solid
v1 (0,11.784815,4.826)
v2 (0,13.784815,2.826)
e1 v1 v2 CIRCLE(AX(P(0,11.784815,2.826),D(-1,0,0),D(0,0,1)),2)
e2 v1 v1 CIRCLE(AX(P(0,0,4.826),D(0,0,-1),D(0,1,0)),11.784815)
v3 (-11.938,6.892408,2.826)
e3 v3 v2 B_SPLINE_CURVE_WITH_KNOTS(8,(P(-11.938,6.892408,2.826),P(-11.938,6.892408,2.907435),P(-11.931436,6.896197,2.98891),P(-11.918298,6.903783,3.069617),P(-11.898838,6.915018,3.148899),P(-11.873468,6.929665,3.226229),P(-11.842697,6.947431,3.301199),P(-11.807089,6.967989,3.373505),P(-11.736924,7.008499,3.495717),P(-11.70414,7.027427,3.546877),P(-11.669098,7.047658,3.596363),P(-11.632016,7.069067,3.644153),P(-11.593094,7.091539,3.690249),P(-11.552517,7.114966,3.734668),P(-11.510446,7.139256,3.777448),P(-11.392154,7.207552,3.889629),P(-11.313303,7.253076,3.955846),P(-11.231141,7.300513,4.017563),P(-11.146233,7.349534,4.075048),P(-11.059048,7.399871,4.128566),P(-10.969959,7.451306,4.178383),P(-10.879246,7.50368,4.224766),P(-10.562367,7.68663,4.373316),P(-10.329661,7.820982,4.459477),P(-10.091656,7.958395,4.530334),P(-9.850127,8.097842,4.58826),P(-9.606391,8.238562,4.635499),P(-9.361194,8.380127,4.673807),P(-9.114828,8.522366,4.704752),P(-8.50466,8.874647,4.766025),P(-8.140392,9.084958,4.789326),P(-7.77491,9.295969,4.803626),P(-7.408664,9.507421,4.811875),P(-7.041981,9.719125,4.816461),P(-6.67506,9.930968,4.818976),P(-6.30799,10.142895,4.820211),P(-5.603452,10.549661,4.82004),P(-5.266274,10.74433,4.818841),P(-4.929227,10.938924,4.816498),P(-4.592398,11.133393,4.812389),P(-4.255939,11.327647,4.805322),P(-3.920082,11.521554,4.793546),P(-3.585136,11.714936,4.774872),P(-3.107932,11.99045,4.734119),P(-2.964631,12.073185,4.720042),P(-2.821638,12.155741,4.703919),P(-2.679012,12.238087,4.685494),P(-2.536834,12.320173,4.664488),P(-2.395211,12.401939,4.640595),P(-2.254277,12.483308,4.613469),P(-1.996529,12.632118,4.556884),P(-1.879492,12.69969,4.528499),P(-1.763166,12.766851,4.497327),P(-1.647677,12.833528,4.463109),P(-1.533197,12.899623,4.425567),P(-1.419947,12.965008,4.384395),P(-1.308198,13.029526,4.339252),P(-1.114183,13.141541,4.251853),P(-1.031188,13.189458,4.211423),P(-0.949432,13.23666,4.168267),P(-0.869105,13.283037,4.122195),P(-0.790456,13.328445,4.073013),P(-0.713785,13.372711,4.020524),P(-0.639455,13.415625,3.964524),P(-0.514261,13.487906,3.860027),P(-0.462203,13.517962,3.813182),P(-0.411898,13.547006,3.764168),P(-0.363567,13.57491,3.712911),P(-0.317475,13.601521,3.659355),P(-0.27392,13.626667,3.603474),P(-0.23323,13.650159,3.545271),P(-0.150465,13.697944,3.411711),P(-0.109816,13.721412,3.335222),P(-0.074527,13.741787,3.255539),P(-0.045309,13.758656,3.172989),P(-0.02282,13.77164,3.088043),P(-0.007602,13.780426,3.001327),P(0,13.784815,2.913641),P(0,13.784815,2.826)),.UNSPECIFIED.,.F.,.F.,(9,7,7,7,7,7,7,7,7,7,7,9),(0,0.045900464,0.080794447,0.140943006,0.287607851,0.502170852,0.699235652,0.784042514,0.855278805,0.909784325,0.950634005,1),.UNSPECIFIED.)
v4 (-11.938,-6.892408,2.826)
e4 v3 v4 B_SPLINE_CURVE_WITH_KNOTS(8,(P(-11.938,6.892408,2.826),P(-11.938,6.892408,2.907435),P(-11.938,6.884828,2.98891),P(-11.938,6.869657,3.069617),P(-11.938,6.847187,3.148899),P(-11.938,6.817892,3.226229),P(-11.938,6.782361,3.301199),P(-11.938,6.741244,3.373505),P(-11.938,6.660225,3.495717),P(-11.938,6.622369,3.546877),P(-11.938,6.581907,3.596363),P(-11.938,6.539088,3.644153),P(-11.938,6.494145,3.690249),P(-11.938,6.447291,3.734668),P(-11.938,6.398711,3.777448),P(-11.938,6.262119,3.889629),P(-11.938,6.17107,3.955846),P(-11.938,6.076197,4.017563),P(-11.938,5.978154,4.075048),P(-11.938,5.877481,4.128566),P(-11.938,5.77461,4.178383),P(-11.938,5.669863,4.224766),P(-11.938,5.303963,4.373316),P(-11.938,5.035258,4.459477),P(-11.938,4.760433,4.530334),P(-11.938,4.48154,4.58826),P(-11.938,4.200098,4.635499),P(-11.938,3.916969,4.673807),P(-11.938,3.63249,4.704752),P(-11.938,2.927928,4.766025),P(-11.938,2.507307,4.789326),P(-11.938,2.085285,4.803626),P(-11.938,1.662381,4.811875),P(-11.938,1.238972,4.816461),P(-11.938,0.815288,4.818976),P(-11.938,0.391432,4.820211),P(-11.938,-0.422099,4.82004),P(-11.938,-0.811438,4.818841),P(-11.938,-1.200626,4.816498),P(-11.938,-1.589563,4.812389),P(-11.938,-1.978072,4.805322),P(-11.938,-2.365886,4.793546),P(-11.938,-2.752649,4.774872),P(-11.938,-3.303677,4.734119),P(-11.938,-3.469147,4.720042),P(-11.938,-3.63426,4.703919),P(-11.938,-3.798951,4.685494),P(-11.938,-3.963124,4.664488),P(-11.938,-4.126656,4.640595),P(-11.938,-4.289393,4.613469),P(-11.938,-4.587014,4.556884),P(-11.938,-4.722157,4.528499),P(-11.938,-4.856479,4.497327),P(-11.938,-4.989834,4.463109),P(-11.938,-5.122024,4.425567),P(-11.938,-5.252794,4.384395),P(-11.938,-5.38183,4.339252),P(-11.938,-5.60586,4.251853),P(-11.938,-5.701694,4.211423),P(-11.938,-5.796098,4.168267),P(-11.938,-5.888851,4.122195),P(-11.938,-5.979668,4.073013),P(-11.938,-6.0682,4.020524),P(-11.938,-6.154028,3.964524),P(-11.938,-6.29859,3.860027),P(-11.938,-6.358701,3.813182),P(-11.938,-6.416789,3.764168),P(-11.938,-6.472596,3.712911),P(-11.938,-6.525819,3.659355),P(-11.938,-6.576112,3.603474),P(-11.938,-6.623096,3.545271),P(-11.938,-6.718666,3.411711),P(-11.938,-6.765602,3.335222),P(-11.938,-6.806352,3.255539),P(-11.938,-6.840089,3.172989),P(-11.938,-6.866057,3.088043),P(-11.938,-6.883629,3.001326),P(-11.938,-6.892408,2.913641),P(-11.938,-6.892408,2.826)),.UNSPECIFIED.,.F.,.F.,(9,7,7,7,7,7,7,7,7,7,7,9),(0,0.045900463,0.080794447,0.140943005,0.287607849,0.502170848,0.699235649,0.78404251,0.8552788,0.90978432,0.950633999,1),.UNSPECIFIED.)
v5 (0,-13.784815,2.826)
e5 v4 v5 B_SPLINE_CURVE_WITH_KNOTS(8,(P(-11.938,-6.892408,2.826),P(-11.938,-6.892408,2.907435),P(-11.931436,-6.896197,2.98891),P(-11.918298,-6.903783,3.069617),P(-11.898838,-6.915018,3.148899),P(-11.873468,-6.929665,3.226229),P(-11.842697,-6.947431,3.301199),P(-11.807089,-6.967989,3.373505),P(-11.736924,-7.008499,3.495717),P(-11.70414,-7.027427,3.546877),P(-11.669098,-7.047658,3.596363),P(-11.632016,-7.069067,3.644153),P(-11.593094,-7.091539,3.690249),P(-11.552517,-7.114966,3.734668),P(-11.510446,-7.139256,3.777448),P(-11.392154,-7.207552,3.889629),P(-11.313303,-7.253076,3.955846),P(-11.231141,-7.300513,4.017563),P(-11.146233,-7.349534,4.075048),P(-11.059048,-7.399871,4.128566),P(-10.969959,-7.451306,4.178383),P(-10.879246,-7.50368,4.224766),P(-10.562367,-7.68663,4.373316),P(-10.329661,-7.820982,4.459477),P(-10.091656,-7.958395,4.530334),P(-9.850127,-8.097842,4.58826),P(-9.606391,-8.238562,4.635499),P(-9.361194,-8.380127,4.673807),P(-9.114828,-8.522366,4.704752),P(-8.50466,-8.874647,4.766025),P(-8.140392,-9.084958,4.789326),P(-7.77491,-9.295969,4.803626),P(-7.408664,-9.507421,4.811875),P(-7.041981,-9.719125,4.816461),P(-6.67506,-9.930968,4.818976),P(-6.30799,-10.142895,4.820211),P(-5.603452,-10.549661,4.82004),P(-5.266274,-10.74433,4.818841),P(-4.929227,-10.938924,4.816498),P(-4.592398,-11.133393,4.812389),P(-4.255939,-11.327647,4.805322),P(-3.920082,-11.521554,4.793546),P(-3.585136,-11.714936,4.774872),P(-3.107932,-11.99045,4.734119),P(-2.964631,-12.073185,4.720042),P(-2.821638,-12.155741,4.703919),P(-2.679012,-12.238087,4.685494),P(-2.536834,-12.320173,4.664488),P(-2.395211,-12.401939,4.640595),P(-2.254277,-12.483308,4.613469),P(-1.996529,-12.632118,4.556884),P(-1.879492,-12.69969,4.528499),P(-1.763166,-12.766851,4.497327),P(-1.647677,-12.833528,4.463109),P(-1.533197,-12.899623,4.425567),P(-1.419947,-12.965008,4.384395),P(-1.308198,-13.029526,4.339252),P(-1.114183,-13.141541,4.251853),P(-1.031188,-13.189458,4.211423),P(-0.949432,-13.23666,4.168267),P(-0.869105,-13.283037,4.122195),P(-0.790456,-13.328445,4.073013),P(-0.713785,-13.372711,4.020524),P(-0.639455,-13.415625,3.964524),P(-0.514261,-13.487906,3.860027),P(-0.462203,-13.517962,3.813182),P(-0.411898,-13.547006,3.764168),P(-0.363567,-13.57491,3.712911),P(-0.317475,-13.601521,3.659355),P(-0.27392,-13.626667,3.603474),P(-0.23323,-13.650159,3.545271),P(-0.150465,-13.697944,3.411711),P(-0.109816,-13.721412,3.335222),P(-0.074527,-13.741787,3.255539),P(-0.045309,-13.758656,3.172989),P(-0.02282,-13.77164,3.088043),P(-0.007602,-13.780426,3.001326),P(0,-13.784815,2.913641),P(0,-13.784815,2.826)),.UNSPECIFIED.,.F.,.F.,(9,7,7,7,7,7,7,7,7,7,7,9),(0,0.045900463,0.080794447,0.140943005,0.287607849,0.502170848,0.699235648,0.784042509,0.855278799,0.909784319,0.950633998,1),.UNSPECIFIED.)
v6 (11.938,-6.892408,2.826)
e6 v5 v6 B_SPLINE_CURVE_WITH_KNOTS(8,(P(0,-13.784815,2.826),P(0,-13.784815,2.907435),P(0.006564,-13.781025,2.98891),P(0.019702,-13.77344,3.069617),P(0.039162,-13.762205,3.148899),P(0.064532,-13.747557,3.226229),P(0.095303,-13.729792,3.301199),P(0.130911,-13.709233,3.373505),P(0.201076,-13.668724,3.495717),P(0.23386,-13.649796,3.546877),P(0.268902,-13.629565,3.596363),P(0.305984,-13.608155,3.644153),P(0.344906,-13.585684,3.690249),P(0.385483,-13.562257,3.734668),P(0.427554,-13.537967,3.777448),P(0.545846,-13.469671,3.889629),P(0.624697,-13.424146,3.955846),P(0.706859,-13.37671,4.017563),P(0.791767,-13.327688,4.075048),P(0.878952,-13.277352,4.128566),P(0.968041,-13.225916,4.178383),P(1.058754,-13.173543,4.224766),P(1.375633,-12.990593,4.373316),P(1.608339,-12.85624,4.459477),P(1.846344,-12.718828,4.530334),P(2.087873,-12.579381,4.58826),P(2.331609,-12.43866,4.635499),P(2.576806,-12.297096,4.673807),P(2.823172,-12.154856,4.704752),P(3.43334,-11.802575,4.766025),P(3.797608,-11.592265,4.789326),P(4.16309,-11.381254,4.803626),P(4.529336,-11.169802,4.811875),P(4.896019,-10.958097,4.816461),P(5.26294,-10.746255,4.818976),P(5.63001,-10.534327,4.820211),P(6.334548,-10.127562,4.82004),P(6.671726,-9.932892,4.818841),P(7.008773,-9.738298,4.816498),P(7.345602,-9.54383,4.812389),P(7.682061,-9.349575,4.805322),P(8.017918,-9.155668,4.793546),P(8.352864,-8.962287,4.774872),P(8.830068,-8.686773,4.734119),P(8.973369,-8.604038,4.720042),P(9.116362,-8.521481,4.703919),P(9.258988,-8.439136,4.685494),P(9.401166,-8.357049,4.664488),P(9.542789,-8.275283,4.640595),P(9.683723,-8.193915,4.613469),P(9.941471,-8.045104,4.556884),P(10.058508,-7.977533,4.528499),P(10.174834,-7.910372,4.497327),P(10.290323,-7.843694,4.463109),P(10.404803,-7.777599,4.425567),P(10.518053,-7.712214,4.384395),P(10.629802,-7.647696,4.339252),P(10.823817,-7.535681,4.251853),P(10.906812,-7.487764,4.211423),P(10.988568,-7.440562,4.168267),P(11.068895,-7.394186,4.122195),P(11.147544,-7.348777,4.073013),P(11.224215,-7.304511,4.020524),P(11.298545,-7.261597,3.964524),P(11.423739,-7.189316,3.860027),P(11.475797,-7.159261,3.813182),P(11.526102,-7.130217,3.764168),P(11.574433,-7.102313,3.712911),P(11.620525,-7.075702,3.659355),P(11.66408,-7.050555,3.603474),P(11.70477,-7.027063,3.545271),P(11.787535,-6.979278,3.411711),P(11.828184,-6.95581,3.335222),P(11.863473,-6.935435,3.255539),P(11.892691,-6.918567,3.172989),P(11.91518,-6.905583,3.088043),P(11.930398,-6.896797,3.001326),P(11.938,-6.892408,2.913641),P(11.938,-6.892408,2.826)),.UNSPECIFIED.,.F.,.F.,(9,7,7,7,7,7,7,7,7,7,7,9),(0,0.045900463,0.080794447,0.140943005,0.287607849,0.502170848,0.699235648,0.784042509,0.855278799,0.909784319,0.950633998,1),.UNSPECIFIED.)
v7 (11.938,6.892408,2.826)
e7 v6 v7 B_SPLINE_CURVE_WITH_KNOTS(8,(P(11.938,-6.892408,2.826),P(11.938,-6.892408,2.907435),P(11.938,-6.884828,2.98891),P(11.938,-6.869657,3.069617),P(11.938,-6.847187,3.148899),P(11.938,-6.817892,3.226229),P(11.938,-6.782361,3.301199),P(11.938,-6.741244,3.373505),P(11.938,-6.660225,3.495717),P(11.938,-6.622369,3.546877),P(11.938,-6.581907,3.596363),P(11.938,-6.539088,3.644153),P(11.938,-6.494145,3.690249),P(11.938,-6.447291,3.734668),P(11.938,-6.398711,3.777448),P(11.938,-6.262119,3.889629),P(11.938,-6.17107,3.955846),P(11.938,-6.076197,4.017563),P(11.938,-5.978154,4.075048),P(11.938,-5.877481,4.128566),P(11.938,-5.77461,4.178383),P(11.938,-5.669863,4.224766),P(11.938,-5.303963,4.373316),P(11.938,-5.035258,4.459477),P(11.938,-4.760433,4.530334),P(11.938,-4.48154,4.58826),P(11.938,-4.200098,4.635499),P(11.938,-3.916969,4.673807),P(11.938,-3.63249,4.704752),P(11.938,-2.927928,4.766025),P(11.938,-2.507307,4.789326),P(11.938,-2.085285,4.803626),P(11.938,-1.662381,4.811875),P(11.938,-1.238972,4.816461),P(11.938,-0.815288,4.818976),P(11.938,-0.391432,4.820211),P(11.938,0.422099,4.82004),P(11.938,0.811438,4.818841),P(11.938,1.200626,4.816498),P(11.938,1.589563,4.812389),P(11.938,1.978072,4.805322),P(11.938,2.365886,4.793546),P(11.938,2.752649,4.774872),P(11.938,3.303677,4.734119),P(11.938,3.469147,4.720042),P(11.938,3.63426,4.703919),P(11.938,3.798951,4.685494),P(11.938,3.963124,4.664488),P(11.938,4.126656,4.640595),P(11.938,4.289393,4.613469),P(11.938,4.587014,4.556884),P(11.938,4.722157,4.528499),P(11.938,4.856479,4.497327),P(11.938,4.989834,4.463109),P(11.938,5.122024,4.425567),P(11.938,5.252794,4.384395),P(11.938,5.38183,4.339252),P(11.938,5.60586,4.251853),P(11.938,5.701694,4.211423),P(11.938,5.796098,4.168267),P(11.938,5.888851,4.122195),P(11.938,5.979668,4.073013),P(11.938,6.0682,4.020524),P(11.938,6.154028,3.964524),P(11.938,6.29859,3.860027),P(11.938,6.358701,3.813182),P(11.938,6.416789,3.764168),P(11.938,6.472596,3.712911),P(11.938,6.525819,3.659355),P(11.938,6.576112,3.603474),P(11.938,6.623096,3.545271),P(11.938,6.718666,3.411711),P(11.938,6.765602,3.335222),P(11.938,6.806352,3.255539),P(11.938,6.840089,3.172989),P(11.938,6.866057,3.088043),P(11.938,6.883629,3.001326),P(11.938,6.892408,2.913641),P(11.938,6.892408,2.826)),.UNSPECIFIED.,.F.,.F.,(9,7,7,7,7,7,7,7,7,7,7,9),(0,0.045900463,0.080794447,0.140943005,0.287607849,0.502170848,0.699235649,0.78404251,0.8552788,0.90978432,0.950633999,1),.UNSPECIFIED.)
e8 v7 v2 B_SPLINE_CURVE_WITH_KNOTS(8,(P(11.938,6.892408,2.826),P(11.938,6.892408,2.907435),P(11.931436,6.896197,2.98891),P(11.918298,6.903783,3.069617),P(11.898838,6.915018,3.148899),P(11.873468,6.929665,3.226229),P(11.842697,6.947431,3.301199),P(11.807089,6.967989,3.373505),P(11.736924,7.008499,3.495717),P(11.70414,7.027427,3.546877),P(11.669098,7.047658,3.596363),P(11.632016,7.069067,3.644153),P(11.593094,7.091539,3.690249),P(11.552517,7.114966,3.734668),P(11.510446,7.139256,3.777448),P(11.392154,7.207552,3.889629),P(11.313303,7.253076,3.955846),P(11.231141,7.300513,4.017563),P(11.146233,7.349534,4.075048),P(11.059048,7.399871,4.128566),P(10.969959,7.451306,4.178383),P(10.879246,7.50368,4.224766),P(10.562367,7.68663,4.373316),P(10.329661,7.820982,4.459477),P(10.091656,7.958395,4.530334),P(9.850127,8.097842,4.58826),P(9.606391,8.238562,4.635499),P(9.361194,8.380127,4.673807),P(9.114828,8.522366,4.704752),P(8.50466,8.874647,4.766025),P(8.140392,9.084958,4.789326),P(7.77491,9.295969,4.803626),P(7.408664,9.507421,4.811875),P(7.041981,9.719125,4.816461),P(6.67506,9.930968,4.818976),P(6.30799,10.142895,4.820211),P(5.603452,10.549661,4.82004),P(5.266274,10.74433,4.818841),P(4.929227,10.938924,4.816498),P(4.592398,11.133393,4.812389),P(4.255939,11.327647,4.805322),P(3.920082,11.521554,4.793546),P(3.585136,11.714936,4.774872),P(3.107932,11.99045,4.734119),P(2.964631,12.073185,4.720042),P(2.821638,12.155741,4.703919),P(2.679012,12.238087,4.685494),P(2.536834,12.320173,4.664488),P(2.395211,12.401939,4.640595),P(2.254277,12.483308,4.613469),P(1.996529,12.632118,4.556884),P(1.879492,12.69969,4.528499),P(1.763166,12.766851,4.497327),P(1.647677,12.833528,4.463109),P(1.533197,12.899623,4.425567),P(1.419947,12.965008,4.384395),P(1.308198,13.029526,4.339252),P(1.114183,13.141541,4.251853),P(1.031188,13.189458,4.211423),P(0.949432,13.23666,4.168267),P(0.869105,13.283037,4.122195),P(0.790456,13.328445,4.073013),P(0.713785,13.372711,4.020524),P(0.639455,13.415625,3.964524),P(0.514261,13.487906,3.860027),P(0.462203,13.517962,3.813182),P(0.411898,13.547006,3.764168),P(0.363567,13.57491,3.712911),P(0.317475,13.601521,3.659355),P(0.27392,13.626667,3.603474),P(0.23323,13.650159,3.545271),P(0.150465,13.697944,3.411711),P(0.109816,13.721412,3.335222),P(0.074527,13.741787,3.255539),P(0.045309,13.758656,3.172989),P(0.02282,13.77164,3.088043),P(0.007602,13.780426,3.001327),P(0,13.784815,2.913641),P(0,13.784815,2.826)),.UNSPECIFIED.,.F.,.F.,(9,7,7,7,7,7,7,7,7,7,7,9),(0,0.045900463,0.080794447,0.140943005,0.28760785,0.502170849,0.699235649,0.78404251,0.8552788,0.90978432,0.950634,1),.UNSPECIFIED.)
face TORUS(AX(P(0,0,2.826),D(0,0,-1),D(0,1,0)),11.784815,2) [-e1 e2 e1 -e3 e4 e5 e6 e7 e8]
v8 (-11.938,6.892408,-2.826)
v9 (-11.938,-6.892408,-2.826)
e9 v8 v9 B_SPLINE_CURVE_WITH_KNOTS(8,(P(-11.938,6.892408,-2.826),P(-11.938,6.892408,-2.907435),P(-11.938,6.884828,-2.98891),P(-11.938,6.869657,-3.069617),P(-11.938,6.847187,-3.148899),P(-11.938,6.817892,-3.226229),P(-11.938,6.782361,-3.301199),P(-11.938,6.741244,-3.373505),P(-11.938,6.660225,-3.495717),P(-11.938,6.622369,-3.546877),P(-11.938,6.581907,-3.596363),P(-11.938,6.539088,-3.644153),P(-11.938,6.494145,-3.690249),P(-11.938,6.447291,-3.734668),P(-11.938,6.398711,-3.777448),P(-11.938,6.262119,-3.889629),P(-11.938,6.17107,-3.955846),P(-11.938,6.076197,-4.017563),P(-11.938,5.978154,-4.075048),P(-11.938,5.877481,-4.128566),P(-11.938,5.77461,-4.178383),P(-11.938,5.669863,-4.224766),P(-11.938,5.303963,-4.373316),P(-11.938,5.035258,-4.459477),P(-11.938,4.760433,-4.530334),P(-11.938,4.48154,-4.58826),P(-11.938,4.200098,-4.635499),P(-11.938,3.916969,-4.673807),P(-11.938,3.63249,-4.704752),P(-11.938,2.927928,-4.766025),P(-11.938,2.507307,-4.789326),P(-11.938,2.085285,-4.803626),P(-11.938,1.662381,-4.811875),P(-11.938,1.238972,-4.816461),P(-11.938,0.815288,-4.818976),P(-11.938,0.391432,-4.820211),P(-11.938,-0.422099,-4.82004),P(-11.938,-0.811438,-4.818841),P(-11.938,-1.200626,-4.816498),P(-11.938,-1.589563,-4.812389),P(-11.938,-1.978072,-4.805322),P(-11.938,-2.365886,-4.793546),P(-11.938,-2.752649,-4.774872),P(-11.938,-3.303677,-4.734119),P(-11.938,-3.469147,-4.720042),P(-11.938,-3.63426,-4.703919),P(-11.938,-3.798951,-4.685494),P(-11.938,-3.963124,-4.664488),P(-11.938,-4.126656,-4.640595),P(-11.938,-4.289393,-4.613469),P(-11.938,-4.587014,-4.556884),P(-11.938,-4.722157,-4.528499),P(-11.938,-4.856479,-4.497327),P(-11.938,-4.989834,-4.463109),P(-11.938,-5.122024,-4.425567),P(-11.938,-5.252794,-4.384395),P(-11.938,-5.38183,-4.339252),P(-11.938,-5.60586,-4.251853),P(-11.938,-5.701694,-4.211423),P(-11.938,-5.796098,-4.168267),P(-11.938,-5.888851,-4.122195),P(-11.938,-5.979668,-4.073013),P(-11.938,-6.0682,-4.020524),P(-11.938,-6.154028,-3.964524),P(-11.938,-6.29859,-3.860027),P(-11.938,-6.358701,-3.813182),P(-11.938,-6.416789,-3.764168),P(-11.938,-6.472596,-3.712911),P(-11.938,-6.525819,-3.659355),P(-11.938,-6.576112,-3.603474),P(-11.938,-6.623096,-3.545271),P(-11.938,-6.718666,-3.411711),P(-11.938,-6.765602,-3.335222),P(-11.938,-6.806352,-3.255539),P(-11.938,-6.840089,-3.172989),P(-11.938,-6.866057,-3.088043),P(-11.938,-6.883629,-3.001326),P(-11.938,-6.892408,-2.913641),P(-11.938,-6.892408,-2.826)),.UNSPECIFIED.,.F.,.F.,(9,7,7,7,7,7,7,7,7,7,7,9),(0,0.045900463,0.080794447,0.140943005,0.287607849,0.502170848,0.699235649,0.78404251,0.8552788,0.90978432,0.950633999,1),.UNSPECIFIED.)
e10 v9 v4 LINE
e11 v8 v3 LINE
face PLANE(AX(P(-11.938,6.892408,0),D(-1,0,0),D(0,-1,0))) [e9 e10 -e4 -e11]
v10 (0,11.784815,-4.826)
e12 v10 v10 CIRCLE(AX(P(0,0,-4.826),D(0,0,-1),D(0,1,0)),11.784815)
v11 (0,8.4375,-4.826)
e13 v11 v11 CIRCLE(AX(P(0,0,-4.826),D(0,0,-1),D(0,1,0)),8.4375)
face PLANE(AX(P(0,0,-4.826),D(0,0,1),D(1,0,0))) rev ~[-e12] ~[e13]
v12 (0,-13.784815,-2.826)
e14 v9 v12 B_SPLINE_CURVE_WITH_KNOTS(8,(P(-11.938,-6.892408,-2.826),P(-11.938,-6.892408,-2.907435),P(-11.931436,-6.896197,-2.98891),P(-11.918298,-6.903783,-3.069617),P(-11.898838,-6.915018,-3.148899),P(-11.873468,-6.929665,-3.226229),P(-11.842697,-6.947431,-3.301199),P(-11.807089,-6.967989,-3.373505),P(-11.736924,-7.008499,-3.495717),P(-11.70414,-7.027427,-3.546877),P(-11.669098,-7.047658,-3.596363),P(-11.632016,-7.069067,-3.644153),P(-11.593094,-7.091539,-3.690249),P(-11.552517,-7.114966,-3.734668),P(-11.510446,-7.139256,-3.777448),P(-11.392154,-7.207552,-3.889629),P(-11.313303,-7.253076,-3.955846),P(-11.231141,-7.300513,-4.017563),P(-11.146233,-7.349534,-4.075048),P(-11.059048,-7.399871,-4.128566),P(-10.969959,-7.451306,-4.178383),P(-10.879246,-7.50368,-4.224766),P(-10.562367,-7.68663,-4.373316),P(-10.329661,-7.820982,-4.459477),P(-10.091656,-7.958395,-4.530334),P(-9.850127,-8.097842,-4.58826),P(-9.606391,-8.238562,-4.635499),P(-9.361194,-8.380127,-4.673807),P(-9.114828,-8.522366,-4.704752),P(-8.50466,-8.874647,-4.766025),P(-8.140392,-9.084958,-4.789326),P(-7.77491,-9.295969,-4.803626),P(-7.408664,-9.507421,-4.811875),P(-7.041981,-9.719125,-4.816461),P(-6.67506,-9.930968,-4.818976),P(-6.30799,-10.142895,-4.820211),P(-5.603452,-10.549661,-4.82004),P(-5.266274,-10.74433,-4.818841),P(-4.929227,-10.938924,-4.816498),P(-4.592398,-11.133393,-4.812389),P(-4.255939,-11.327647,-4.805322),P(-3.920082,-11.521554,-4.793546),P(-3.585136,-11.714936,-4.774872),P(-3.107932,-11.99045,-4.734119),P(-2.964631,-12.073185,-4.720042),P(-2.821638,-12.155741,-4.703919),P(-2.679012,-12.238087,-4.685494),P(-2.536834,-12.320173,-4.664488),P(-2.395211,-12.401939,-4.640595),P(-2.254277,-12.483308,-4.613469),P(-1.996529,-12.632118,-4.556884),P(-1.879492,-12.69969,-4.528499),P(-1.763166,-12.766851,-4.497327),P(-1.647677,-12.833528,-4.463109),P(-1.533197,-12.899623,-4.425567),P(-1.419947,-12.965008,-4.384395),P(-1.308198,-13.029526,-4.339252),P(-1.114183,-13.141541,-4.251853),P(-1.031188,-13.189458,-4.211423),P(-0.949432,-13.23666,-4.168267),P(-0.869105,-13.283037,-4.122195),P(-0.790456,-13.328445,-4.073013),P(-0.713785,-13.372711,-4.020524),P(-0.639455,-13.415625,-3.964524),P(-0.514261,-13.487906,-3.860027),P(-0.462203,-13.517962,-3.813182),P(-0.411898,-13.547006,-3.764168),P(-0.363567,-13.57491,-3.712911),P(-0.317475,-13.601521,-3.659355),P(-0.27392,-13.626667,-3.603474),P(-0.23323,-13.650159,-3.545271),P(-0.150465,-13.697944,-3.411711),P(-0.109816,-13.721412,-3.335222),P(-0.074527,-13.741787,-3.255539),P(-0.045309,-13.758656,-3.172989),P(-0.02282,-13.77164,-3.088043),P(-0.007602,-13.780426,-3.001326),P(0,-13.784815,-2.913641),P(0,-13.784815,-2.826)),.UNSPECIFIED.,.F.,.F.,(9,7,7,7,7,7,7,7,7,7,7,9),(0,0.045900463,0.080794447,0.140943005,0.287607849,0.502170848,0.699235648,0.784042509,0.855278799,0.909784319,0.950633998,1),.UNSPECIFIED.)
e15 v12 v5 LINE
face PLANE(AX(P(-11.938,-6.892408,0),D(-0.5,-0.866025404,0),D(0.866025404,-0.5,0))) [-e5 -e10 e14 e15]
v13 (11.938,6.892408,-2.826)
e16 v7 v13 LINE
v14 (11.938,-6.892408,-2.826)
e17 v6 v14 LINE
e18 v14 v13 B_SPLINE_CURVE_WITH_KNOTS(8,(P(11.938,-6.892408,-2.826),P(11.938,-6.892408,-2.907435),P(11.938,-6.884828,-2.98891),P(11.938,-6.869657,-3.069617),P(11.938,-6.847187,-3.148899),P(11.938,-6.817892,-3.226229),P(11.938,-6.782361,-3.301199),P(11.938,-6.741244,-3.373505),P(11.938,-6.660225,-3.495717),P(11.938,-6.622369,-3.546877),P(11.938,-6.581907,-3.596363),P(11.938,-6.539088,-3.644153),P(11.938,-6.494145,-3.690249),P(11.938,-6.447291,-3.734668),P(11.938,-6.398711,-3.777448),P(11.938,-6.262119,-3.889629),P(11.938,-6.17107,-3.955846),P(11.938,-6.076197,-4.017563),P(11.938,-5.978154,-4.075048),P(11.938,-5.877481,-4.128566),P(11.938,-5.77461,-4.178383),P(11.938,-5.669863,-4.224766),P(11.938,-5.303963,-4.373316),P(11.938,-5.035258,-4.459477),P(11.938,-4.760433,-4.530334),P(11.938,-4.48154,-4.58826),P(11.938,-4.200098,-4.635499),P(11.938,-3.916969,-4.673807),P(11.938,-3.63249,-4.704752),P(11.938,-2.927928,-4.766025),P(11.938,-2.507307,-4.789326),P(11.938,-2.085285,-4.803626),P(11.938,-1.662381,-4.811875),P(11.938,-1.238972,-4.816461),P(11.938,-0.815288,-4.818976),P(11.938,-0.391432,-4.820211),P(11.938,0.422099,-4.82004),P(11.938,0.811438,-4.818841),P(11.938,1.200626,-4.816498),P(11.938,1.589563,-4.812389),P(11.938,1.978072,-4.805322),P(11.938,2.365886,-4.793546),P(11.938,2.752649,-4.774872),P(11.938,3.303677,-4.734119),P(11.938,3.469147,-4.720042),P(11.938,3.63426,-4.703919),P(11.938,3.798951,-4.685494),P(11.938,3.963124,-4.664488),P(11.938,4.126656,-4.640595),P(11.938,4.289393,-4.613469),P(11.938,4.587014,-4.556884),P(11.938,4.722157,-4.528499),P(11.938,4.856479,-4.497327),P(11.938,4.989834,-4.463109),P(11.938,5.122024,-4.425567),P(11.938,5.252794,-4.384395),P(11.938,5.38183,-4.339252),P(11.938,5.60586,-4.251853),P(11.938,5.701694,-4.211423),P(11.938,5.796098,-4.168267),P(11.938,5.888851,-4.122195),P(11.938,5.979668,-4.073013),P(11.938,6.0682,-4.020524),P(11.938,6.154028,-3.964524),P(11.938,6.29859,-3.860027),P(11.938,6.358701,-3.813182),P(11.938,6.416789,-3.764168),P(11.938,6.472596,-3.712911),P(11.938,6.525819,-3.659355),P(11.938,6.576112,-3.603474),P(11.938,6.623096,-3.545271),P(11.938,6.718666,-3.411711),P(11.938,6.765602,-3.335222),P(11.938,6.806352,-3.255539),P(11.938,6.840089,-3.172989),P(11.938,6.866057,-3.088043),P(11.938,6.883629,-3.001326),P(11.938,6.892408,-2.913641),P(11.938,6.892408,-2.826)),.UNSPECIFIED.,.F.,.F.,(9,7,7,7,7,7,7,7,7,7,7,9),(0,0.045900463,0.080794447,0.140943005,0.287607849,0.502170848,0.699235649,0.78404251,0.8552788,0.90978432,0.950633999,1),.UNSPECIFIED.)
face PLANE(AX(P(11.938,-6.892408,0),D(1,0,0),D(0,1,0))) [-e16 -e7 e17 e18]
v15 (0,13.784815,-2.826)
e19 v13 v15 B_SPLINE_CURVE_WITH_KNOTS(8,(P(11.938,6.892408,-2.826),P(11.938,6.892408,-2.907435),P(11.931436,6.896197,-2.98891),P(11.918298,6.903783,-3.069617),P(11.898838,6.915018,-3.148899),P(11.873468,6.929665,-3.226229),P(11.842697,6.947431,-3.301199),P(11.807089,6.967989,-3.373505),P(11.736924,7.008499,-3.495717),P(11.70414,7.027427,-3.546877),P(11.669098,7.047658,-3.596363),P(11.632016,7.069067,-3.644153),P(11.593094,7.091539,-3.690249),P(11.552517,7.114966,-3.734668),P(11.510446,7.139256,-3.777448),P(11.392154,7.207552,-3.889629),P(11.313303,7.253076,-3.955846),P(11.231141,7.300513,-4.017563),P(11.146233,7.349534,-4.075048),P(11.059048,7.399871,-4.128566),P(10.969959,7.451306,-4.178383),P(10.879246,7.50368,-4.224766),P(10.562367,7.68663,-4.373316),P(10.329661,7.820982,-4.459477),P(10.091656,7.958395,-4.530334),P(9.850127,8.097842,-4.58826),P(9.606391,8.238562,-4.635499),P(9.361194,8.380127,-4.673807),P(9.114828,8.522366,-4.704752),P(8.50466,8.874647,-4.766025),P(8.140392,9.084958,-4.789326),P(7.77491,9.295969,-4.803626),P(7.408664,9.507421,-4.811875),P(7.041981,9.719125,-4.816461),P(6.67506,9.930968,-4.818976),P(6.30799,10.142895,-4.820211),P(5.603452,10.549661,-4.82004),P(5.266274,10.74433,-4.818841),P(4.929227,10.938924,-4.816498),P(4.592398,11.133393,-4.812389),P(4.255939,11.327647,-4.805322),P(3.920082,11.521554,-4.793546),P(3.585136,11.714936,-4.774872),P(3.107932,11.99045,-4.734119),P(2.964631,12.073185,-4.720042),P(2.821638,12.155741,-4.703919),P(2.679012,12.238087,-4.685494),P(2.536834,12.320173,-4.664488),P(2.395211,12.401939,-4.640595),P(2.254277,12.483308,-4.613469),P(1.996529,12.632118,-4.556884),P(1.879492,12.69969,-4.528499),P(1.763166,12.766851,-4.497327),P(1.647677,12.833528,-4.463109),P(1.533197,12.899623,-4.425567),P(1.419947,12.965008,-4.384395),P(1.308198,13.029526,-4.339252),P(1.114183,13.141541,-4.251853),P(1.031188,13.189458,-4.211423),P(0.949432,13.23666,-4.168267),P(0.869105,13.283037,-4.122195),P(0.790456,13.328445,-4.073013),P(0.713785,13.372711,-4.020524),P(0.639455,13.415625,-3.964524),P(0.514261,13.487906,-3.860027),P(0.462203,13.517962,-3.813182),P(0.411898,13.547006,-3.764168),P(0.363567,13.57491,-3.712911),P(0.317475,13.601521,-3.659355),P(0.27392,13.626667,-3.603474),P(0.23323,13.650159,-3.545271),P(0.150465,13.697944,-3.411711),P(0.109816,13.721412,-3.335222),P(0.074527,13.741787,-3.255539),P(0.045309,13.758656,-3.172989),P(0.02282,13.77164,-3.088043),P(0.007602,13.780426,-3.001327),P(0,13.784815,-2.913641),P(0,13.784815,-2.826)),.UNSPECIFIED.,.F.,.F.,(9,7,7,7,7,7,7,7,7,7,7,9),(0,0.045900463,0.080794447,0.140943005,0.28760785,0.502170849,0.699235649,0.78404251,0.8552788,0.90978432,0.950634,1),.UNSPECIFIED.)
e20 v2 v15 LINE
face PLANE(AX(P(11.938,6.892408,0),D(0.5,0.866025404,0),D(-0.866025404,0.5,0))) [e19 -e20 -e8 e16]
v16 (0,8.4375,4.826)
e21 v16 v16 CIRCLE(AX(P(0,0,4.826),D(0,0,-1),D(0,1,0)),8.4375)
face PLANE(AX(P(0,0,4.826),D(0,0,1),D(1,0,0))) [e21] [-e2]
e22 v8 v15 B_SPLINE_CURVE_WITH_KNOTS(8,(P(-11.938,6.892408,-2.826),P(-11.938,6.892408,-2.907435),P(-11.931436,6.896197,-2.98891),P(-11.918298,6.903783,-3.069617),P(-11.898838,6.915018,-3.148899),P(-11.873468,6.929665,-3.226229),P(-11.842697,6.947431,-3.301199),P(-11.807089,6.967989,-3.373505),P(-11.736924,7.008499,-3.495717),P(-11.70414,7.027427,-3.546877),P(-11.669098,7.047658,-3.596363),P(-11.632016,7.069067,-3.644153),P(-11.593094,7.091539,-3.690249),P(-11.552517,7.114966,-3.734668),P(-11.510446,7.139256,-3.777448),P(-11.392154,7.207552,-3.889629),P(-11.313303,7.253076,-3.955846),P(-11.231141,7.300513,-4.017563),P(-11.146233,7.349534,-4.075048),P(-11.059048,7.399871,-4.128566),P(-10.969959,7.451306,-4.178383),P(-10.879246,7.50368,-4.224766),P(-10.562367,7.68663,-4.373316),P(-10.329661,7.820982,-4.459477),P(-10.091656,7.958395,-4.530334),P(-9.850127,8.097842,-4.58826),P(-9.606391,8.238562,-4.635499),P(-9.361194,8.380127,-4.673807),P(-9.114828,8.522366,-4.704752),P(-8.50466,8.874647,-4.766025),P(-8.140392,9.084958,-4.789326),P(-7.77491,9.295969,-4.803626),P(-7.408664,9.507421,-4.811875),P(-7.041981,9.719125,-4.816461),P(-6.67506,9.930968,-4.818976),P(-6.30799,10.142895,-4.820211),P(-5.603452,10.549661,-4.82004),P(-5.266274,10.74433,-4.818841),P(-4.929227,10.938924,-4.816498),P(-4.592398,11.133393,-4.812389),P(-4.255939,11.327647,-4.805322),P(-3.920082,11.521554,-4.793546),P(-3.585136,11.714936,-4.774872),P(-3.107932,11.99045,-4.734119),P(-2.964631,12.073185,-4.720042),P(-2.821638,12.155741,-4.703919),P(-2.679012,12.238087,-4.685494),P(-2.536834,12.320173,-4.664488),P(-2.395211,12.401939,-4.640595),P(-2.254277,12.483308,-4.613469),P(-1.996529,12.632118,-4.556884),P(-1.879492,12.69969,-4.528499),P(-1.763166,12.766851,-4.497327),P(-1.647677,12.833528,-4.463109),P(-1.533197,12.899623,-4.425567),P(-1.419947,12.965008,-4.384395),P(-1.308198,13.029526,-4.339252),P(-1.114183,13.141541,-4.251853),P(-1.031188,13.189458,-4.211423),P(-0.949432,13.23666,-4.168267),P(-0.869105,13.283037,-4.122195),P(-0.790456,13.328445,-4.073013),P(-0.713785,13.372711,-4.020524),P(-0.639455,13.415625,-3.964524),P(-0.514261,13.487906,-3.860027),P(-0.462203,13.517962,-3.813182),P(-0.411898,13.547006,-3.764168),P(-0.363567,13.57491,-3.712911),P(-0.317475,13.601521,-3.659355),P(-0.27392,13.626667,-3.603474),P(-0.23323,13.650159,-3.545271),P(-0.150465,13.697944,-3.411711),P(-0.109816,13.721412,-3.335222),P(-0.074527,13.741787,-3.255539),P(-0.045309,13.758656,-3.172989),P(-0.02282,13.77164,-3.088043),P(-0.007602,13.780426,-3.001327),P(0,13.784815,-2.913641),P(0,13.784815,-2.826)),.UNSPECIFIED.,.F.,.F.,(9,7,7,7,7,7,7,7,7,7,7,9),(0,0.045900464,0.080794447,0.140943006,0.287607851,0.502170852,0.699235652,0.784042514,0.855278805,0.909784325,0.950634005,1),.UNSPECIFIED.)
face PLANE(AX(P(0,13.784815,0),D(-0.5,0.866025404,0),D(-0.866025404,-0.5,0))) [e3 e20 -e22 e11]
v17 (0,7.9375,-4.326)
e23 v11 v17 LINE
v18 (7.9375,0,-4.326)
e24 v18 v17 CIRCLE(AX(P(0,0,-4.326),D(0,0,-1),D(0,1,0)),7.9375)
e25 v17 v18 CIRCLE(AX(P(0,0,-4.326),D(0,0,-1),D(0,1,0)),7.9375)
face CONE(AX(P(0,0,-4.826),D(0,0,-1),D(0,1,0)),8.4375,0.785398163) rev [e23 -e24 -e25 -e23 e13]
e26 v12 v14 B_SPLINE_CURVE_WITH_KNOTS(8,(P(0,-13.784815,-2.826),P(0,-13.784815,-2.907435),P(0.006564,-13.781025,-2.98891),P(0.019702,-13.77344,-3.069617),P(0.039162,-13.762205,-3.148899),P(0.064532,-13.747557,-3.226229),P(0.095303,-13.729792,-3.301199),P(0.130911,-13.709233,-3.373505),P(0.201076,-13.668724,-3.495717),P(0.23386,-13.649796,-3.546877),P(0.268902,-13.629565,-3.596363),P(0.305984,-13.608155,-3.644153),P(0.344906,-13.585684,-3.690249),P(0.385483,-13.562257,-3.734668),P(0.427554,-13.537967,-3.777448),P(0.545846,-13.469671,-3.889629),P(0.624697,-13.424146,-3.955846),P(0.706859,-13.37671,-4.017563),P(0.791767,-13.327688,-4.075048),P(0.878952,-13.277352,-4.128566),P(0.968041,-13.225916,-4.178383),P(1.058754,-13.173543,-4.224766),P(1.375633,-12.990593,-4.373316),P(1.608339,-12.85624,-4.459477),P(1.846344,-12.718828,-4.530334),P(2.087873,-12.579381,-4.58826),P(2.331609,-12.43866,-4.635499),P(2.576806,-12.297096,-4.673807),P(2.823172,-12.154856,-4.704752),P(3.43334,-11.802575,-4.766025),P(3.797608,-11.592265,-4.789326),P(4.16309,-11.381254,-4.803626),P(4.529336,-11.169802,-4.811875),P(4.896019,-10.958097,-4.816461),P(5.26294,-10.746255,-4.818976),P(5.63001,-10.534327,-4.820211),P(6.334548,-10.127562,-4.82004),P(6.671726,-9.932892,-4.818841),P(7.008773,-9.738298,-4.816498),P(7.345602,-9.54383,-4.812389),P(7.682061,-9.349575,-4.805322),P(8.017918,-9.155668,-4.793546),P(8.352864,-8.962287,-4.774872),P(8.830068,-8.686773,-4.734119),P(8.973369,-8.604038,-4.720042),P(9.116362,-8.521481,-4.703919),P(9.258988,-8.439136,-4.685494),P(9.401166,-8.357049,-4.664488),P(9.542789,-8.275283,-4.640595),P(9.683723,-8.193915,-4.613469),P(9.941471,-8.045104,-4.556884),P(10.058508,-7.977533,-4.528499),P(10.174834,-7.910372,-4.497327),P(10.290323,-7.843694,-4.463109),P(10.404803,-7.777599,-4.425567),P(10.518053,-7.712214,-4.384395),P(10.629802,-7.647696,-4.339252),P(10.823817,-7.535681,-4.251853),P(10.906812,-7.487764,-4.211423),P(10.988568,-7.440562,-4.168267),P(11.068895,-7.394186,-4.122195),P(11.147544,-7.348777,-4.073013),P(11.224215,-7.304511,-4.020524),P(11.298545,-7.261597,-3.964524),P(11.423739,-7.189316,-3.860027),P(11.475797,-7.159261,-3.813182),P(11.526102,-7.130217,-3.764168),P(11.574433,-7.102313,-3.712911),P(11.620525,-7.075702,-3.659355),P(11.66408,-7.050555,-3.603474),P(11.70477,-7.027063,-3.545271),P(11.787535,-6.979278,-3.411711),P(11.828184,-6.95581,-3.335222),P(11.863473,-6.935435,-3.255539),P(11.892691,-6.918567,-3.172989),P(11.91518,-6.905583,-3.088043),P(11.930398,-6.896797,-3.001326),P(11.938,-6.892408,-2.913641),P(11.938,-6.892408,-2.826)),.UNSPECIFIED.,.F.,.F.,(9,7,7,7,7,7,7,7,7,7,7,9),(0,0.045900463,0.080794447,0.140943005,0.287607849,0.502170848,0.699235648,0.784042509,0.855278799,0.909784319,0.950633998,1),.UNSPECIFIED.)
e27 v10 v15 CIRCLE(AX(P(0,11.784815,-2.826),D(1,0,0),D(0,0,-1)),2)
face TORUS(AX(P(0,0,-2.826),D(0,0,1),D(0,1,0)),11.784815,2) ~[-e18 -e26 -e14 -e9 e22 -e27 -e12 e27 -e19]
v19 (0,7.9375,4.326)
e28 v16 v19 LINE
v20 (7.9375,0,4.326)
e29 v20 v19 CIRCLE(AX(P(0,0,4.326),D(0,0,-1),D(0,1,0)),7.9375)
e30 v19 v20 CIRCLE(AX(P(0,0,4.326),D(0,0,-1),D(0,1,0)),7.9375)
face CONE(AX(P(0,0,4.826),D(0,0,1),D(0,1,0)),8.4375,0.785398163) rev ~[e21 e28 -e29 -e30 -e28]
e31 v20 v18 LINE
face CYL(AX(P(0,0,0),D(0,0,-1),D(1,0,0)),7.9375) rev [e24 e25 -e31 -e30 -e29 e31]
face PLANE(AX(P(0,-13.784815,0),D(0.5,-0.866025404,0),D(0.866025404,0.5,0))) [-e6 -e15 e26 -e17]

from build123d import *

# Parameters (mm, degrees)
SKETCH1_R      = 7.9375
EXTRUDE1_DEPTH = 4.826


with BuildPart() as part:
    # Sketch1 → Extrude1 (new body, symmetric)
    with BuildSketch(Plane.XY):
        Polygon((0, 13.784815027), (-11.938, 6.892407514), (-11.938, -6.892407514), (0, -13.784815027), (11.938, -6.892407514), (11.938, 6.892407514), align=None)
        Circle(SKETCH1_R, mode=Mode.SUBTRACT)
    extrude(amount=EXTRUDE1_DEPTH, both=True)

    # Sketch2 → Detail (revolve, cut)
    with BuildSketch(Plane(origin=(0, 0, 0), x_dir=(0, 0, -1), z_dir=(1, 0, 0))):
        Polygon((4.826, 7.9375), (4.826, 8.4375), (4.326, 7.9375), align=None)
        with BuildLine():
            Line((4.826, 13.784815027), (4.826, 11.784815027))
            ThreePointArc((4.826, 11.784815027), (4.240213562, 13.19902859), (2.826, 13.784815027))
            Line((2.826, 13.784815027), (4.826, 13.784815027))
        make_face()
        with BuildLine():
            Line((-2.826, 13.784815027), (-4.826, 13.784815027))
            Line((-4.826, 13.784815027), (-4.826, 11.784815027))
            ThreePointArc((-4.826, 11.784815027), (-4.240213562, 13.19902859), (-2.826, 13.784815027))
        make_face()
        Polygon((-4.326, 7.9375), (-4.826, 7.9375), (-4.826, 8.4375), align=None)
    revolve(axis=Axis((0, 0, 0), (0, 0, -1)), mode=Mode.SUBTRACT)


solid = part.part
